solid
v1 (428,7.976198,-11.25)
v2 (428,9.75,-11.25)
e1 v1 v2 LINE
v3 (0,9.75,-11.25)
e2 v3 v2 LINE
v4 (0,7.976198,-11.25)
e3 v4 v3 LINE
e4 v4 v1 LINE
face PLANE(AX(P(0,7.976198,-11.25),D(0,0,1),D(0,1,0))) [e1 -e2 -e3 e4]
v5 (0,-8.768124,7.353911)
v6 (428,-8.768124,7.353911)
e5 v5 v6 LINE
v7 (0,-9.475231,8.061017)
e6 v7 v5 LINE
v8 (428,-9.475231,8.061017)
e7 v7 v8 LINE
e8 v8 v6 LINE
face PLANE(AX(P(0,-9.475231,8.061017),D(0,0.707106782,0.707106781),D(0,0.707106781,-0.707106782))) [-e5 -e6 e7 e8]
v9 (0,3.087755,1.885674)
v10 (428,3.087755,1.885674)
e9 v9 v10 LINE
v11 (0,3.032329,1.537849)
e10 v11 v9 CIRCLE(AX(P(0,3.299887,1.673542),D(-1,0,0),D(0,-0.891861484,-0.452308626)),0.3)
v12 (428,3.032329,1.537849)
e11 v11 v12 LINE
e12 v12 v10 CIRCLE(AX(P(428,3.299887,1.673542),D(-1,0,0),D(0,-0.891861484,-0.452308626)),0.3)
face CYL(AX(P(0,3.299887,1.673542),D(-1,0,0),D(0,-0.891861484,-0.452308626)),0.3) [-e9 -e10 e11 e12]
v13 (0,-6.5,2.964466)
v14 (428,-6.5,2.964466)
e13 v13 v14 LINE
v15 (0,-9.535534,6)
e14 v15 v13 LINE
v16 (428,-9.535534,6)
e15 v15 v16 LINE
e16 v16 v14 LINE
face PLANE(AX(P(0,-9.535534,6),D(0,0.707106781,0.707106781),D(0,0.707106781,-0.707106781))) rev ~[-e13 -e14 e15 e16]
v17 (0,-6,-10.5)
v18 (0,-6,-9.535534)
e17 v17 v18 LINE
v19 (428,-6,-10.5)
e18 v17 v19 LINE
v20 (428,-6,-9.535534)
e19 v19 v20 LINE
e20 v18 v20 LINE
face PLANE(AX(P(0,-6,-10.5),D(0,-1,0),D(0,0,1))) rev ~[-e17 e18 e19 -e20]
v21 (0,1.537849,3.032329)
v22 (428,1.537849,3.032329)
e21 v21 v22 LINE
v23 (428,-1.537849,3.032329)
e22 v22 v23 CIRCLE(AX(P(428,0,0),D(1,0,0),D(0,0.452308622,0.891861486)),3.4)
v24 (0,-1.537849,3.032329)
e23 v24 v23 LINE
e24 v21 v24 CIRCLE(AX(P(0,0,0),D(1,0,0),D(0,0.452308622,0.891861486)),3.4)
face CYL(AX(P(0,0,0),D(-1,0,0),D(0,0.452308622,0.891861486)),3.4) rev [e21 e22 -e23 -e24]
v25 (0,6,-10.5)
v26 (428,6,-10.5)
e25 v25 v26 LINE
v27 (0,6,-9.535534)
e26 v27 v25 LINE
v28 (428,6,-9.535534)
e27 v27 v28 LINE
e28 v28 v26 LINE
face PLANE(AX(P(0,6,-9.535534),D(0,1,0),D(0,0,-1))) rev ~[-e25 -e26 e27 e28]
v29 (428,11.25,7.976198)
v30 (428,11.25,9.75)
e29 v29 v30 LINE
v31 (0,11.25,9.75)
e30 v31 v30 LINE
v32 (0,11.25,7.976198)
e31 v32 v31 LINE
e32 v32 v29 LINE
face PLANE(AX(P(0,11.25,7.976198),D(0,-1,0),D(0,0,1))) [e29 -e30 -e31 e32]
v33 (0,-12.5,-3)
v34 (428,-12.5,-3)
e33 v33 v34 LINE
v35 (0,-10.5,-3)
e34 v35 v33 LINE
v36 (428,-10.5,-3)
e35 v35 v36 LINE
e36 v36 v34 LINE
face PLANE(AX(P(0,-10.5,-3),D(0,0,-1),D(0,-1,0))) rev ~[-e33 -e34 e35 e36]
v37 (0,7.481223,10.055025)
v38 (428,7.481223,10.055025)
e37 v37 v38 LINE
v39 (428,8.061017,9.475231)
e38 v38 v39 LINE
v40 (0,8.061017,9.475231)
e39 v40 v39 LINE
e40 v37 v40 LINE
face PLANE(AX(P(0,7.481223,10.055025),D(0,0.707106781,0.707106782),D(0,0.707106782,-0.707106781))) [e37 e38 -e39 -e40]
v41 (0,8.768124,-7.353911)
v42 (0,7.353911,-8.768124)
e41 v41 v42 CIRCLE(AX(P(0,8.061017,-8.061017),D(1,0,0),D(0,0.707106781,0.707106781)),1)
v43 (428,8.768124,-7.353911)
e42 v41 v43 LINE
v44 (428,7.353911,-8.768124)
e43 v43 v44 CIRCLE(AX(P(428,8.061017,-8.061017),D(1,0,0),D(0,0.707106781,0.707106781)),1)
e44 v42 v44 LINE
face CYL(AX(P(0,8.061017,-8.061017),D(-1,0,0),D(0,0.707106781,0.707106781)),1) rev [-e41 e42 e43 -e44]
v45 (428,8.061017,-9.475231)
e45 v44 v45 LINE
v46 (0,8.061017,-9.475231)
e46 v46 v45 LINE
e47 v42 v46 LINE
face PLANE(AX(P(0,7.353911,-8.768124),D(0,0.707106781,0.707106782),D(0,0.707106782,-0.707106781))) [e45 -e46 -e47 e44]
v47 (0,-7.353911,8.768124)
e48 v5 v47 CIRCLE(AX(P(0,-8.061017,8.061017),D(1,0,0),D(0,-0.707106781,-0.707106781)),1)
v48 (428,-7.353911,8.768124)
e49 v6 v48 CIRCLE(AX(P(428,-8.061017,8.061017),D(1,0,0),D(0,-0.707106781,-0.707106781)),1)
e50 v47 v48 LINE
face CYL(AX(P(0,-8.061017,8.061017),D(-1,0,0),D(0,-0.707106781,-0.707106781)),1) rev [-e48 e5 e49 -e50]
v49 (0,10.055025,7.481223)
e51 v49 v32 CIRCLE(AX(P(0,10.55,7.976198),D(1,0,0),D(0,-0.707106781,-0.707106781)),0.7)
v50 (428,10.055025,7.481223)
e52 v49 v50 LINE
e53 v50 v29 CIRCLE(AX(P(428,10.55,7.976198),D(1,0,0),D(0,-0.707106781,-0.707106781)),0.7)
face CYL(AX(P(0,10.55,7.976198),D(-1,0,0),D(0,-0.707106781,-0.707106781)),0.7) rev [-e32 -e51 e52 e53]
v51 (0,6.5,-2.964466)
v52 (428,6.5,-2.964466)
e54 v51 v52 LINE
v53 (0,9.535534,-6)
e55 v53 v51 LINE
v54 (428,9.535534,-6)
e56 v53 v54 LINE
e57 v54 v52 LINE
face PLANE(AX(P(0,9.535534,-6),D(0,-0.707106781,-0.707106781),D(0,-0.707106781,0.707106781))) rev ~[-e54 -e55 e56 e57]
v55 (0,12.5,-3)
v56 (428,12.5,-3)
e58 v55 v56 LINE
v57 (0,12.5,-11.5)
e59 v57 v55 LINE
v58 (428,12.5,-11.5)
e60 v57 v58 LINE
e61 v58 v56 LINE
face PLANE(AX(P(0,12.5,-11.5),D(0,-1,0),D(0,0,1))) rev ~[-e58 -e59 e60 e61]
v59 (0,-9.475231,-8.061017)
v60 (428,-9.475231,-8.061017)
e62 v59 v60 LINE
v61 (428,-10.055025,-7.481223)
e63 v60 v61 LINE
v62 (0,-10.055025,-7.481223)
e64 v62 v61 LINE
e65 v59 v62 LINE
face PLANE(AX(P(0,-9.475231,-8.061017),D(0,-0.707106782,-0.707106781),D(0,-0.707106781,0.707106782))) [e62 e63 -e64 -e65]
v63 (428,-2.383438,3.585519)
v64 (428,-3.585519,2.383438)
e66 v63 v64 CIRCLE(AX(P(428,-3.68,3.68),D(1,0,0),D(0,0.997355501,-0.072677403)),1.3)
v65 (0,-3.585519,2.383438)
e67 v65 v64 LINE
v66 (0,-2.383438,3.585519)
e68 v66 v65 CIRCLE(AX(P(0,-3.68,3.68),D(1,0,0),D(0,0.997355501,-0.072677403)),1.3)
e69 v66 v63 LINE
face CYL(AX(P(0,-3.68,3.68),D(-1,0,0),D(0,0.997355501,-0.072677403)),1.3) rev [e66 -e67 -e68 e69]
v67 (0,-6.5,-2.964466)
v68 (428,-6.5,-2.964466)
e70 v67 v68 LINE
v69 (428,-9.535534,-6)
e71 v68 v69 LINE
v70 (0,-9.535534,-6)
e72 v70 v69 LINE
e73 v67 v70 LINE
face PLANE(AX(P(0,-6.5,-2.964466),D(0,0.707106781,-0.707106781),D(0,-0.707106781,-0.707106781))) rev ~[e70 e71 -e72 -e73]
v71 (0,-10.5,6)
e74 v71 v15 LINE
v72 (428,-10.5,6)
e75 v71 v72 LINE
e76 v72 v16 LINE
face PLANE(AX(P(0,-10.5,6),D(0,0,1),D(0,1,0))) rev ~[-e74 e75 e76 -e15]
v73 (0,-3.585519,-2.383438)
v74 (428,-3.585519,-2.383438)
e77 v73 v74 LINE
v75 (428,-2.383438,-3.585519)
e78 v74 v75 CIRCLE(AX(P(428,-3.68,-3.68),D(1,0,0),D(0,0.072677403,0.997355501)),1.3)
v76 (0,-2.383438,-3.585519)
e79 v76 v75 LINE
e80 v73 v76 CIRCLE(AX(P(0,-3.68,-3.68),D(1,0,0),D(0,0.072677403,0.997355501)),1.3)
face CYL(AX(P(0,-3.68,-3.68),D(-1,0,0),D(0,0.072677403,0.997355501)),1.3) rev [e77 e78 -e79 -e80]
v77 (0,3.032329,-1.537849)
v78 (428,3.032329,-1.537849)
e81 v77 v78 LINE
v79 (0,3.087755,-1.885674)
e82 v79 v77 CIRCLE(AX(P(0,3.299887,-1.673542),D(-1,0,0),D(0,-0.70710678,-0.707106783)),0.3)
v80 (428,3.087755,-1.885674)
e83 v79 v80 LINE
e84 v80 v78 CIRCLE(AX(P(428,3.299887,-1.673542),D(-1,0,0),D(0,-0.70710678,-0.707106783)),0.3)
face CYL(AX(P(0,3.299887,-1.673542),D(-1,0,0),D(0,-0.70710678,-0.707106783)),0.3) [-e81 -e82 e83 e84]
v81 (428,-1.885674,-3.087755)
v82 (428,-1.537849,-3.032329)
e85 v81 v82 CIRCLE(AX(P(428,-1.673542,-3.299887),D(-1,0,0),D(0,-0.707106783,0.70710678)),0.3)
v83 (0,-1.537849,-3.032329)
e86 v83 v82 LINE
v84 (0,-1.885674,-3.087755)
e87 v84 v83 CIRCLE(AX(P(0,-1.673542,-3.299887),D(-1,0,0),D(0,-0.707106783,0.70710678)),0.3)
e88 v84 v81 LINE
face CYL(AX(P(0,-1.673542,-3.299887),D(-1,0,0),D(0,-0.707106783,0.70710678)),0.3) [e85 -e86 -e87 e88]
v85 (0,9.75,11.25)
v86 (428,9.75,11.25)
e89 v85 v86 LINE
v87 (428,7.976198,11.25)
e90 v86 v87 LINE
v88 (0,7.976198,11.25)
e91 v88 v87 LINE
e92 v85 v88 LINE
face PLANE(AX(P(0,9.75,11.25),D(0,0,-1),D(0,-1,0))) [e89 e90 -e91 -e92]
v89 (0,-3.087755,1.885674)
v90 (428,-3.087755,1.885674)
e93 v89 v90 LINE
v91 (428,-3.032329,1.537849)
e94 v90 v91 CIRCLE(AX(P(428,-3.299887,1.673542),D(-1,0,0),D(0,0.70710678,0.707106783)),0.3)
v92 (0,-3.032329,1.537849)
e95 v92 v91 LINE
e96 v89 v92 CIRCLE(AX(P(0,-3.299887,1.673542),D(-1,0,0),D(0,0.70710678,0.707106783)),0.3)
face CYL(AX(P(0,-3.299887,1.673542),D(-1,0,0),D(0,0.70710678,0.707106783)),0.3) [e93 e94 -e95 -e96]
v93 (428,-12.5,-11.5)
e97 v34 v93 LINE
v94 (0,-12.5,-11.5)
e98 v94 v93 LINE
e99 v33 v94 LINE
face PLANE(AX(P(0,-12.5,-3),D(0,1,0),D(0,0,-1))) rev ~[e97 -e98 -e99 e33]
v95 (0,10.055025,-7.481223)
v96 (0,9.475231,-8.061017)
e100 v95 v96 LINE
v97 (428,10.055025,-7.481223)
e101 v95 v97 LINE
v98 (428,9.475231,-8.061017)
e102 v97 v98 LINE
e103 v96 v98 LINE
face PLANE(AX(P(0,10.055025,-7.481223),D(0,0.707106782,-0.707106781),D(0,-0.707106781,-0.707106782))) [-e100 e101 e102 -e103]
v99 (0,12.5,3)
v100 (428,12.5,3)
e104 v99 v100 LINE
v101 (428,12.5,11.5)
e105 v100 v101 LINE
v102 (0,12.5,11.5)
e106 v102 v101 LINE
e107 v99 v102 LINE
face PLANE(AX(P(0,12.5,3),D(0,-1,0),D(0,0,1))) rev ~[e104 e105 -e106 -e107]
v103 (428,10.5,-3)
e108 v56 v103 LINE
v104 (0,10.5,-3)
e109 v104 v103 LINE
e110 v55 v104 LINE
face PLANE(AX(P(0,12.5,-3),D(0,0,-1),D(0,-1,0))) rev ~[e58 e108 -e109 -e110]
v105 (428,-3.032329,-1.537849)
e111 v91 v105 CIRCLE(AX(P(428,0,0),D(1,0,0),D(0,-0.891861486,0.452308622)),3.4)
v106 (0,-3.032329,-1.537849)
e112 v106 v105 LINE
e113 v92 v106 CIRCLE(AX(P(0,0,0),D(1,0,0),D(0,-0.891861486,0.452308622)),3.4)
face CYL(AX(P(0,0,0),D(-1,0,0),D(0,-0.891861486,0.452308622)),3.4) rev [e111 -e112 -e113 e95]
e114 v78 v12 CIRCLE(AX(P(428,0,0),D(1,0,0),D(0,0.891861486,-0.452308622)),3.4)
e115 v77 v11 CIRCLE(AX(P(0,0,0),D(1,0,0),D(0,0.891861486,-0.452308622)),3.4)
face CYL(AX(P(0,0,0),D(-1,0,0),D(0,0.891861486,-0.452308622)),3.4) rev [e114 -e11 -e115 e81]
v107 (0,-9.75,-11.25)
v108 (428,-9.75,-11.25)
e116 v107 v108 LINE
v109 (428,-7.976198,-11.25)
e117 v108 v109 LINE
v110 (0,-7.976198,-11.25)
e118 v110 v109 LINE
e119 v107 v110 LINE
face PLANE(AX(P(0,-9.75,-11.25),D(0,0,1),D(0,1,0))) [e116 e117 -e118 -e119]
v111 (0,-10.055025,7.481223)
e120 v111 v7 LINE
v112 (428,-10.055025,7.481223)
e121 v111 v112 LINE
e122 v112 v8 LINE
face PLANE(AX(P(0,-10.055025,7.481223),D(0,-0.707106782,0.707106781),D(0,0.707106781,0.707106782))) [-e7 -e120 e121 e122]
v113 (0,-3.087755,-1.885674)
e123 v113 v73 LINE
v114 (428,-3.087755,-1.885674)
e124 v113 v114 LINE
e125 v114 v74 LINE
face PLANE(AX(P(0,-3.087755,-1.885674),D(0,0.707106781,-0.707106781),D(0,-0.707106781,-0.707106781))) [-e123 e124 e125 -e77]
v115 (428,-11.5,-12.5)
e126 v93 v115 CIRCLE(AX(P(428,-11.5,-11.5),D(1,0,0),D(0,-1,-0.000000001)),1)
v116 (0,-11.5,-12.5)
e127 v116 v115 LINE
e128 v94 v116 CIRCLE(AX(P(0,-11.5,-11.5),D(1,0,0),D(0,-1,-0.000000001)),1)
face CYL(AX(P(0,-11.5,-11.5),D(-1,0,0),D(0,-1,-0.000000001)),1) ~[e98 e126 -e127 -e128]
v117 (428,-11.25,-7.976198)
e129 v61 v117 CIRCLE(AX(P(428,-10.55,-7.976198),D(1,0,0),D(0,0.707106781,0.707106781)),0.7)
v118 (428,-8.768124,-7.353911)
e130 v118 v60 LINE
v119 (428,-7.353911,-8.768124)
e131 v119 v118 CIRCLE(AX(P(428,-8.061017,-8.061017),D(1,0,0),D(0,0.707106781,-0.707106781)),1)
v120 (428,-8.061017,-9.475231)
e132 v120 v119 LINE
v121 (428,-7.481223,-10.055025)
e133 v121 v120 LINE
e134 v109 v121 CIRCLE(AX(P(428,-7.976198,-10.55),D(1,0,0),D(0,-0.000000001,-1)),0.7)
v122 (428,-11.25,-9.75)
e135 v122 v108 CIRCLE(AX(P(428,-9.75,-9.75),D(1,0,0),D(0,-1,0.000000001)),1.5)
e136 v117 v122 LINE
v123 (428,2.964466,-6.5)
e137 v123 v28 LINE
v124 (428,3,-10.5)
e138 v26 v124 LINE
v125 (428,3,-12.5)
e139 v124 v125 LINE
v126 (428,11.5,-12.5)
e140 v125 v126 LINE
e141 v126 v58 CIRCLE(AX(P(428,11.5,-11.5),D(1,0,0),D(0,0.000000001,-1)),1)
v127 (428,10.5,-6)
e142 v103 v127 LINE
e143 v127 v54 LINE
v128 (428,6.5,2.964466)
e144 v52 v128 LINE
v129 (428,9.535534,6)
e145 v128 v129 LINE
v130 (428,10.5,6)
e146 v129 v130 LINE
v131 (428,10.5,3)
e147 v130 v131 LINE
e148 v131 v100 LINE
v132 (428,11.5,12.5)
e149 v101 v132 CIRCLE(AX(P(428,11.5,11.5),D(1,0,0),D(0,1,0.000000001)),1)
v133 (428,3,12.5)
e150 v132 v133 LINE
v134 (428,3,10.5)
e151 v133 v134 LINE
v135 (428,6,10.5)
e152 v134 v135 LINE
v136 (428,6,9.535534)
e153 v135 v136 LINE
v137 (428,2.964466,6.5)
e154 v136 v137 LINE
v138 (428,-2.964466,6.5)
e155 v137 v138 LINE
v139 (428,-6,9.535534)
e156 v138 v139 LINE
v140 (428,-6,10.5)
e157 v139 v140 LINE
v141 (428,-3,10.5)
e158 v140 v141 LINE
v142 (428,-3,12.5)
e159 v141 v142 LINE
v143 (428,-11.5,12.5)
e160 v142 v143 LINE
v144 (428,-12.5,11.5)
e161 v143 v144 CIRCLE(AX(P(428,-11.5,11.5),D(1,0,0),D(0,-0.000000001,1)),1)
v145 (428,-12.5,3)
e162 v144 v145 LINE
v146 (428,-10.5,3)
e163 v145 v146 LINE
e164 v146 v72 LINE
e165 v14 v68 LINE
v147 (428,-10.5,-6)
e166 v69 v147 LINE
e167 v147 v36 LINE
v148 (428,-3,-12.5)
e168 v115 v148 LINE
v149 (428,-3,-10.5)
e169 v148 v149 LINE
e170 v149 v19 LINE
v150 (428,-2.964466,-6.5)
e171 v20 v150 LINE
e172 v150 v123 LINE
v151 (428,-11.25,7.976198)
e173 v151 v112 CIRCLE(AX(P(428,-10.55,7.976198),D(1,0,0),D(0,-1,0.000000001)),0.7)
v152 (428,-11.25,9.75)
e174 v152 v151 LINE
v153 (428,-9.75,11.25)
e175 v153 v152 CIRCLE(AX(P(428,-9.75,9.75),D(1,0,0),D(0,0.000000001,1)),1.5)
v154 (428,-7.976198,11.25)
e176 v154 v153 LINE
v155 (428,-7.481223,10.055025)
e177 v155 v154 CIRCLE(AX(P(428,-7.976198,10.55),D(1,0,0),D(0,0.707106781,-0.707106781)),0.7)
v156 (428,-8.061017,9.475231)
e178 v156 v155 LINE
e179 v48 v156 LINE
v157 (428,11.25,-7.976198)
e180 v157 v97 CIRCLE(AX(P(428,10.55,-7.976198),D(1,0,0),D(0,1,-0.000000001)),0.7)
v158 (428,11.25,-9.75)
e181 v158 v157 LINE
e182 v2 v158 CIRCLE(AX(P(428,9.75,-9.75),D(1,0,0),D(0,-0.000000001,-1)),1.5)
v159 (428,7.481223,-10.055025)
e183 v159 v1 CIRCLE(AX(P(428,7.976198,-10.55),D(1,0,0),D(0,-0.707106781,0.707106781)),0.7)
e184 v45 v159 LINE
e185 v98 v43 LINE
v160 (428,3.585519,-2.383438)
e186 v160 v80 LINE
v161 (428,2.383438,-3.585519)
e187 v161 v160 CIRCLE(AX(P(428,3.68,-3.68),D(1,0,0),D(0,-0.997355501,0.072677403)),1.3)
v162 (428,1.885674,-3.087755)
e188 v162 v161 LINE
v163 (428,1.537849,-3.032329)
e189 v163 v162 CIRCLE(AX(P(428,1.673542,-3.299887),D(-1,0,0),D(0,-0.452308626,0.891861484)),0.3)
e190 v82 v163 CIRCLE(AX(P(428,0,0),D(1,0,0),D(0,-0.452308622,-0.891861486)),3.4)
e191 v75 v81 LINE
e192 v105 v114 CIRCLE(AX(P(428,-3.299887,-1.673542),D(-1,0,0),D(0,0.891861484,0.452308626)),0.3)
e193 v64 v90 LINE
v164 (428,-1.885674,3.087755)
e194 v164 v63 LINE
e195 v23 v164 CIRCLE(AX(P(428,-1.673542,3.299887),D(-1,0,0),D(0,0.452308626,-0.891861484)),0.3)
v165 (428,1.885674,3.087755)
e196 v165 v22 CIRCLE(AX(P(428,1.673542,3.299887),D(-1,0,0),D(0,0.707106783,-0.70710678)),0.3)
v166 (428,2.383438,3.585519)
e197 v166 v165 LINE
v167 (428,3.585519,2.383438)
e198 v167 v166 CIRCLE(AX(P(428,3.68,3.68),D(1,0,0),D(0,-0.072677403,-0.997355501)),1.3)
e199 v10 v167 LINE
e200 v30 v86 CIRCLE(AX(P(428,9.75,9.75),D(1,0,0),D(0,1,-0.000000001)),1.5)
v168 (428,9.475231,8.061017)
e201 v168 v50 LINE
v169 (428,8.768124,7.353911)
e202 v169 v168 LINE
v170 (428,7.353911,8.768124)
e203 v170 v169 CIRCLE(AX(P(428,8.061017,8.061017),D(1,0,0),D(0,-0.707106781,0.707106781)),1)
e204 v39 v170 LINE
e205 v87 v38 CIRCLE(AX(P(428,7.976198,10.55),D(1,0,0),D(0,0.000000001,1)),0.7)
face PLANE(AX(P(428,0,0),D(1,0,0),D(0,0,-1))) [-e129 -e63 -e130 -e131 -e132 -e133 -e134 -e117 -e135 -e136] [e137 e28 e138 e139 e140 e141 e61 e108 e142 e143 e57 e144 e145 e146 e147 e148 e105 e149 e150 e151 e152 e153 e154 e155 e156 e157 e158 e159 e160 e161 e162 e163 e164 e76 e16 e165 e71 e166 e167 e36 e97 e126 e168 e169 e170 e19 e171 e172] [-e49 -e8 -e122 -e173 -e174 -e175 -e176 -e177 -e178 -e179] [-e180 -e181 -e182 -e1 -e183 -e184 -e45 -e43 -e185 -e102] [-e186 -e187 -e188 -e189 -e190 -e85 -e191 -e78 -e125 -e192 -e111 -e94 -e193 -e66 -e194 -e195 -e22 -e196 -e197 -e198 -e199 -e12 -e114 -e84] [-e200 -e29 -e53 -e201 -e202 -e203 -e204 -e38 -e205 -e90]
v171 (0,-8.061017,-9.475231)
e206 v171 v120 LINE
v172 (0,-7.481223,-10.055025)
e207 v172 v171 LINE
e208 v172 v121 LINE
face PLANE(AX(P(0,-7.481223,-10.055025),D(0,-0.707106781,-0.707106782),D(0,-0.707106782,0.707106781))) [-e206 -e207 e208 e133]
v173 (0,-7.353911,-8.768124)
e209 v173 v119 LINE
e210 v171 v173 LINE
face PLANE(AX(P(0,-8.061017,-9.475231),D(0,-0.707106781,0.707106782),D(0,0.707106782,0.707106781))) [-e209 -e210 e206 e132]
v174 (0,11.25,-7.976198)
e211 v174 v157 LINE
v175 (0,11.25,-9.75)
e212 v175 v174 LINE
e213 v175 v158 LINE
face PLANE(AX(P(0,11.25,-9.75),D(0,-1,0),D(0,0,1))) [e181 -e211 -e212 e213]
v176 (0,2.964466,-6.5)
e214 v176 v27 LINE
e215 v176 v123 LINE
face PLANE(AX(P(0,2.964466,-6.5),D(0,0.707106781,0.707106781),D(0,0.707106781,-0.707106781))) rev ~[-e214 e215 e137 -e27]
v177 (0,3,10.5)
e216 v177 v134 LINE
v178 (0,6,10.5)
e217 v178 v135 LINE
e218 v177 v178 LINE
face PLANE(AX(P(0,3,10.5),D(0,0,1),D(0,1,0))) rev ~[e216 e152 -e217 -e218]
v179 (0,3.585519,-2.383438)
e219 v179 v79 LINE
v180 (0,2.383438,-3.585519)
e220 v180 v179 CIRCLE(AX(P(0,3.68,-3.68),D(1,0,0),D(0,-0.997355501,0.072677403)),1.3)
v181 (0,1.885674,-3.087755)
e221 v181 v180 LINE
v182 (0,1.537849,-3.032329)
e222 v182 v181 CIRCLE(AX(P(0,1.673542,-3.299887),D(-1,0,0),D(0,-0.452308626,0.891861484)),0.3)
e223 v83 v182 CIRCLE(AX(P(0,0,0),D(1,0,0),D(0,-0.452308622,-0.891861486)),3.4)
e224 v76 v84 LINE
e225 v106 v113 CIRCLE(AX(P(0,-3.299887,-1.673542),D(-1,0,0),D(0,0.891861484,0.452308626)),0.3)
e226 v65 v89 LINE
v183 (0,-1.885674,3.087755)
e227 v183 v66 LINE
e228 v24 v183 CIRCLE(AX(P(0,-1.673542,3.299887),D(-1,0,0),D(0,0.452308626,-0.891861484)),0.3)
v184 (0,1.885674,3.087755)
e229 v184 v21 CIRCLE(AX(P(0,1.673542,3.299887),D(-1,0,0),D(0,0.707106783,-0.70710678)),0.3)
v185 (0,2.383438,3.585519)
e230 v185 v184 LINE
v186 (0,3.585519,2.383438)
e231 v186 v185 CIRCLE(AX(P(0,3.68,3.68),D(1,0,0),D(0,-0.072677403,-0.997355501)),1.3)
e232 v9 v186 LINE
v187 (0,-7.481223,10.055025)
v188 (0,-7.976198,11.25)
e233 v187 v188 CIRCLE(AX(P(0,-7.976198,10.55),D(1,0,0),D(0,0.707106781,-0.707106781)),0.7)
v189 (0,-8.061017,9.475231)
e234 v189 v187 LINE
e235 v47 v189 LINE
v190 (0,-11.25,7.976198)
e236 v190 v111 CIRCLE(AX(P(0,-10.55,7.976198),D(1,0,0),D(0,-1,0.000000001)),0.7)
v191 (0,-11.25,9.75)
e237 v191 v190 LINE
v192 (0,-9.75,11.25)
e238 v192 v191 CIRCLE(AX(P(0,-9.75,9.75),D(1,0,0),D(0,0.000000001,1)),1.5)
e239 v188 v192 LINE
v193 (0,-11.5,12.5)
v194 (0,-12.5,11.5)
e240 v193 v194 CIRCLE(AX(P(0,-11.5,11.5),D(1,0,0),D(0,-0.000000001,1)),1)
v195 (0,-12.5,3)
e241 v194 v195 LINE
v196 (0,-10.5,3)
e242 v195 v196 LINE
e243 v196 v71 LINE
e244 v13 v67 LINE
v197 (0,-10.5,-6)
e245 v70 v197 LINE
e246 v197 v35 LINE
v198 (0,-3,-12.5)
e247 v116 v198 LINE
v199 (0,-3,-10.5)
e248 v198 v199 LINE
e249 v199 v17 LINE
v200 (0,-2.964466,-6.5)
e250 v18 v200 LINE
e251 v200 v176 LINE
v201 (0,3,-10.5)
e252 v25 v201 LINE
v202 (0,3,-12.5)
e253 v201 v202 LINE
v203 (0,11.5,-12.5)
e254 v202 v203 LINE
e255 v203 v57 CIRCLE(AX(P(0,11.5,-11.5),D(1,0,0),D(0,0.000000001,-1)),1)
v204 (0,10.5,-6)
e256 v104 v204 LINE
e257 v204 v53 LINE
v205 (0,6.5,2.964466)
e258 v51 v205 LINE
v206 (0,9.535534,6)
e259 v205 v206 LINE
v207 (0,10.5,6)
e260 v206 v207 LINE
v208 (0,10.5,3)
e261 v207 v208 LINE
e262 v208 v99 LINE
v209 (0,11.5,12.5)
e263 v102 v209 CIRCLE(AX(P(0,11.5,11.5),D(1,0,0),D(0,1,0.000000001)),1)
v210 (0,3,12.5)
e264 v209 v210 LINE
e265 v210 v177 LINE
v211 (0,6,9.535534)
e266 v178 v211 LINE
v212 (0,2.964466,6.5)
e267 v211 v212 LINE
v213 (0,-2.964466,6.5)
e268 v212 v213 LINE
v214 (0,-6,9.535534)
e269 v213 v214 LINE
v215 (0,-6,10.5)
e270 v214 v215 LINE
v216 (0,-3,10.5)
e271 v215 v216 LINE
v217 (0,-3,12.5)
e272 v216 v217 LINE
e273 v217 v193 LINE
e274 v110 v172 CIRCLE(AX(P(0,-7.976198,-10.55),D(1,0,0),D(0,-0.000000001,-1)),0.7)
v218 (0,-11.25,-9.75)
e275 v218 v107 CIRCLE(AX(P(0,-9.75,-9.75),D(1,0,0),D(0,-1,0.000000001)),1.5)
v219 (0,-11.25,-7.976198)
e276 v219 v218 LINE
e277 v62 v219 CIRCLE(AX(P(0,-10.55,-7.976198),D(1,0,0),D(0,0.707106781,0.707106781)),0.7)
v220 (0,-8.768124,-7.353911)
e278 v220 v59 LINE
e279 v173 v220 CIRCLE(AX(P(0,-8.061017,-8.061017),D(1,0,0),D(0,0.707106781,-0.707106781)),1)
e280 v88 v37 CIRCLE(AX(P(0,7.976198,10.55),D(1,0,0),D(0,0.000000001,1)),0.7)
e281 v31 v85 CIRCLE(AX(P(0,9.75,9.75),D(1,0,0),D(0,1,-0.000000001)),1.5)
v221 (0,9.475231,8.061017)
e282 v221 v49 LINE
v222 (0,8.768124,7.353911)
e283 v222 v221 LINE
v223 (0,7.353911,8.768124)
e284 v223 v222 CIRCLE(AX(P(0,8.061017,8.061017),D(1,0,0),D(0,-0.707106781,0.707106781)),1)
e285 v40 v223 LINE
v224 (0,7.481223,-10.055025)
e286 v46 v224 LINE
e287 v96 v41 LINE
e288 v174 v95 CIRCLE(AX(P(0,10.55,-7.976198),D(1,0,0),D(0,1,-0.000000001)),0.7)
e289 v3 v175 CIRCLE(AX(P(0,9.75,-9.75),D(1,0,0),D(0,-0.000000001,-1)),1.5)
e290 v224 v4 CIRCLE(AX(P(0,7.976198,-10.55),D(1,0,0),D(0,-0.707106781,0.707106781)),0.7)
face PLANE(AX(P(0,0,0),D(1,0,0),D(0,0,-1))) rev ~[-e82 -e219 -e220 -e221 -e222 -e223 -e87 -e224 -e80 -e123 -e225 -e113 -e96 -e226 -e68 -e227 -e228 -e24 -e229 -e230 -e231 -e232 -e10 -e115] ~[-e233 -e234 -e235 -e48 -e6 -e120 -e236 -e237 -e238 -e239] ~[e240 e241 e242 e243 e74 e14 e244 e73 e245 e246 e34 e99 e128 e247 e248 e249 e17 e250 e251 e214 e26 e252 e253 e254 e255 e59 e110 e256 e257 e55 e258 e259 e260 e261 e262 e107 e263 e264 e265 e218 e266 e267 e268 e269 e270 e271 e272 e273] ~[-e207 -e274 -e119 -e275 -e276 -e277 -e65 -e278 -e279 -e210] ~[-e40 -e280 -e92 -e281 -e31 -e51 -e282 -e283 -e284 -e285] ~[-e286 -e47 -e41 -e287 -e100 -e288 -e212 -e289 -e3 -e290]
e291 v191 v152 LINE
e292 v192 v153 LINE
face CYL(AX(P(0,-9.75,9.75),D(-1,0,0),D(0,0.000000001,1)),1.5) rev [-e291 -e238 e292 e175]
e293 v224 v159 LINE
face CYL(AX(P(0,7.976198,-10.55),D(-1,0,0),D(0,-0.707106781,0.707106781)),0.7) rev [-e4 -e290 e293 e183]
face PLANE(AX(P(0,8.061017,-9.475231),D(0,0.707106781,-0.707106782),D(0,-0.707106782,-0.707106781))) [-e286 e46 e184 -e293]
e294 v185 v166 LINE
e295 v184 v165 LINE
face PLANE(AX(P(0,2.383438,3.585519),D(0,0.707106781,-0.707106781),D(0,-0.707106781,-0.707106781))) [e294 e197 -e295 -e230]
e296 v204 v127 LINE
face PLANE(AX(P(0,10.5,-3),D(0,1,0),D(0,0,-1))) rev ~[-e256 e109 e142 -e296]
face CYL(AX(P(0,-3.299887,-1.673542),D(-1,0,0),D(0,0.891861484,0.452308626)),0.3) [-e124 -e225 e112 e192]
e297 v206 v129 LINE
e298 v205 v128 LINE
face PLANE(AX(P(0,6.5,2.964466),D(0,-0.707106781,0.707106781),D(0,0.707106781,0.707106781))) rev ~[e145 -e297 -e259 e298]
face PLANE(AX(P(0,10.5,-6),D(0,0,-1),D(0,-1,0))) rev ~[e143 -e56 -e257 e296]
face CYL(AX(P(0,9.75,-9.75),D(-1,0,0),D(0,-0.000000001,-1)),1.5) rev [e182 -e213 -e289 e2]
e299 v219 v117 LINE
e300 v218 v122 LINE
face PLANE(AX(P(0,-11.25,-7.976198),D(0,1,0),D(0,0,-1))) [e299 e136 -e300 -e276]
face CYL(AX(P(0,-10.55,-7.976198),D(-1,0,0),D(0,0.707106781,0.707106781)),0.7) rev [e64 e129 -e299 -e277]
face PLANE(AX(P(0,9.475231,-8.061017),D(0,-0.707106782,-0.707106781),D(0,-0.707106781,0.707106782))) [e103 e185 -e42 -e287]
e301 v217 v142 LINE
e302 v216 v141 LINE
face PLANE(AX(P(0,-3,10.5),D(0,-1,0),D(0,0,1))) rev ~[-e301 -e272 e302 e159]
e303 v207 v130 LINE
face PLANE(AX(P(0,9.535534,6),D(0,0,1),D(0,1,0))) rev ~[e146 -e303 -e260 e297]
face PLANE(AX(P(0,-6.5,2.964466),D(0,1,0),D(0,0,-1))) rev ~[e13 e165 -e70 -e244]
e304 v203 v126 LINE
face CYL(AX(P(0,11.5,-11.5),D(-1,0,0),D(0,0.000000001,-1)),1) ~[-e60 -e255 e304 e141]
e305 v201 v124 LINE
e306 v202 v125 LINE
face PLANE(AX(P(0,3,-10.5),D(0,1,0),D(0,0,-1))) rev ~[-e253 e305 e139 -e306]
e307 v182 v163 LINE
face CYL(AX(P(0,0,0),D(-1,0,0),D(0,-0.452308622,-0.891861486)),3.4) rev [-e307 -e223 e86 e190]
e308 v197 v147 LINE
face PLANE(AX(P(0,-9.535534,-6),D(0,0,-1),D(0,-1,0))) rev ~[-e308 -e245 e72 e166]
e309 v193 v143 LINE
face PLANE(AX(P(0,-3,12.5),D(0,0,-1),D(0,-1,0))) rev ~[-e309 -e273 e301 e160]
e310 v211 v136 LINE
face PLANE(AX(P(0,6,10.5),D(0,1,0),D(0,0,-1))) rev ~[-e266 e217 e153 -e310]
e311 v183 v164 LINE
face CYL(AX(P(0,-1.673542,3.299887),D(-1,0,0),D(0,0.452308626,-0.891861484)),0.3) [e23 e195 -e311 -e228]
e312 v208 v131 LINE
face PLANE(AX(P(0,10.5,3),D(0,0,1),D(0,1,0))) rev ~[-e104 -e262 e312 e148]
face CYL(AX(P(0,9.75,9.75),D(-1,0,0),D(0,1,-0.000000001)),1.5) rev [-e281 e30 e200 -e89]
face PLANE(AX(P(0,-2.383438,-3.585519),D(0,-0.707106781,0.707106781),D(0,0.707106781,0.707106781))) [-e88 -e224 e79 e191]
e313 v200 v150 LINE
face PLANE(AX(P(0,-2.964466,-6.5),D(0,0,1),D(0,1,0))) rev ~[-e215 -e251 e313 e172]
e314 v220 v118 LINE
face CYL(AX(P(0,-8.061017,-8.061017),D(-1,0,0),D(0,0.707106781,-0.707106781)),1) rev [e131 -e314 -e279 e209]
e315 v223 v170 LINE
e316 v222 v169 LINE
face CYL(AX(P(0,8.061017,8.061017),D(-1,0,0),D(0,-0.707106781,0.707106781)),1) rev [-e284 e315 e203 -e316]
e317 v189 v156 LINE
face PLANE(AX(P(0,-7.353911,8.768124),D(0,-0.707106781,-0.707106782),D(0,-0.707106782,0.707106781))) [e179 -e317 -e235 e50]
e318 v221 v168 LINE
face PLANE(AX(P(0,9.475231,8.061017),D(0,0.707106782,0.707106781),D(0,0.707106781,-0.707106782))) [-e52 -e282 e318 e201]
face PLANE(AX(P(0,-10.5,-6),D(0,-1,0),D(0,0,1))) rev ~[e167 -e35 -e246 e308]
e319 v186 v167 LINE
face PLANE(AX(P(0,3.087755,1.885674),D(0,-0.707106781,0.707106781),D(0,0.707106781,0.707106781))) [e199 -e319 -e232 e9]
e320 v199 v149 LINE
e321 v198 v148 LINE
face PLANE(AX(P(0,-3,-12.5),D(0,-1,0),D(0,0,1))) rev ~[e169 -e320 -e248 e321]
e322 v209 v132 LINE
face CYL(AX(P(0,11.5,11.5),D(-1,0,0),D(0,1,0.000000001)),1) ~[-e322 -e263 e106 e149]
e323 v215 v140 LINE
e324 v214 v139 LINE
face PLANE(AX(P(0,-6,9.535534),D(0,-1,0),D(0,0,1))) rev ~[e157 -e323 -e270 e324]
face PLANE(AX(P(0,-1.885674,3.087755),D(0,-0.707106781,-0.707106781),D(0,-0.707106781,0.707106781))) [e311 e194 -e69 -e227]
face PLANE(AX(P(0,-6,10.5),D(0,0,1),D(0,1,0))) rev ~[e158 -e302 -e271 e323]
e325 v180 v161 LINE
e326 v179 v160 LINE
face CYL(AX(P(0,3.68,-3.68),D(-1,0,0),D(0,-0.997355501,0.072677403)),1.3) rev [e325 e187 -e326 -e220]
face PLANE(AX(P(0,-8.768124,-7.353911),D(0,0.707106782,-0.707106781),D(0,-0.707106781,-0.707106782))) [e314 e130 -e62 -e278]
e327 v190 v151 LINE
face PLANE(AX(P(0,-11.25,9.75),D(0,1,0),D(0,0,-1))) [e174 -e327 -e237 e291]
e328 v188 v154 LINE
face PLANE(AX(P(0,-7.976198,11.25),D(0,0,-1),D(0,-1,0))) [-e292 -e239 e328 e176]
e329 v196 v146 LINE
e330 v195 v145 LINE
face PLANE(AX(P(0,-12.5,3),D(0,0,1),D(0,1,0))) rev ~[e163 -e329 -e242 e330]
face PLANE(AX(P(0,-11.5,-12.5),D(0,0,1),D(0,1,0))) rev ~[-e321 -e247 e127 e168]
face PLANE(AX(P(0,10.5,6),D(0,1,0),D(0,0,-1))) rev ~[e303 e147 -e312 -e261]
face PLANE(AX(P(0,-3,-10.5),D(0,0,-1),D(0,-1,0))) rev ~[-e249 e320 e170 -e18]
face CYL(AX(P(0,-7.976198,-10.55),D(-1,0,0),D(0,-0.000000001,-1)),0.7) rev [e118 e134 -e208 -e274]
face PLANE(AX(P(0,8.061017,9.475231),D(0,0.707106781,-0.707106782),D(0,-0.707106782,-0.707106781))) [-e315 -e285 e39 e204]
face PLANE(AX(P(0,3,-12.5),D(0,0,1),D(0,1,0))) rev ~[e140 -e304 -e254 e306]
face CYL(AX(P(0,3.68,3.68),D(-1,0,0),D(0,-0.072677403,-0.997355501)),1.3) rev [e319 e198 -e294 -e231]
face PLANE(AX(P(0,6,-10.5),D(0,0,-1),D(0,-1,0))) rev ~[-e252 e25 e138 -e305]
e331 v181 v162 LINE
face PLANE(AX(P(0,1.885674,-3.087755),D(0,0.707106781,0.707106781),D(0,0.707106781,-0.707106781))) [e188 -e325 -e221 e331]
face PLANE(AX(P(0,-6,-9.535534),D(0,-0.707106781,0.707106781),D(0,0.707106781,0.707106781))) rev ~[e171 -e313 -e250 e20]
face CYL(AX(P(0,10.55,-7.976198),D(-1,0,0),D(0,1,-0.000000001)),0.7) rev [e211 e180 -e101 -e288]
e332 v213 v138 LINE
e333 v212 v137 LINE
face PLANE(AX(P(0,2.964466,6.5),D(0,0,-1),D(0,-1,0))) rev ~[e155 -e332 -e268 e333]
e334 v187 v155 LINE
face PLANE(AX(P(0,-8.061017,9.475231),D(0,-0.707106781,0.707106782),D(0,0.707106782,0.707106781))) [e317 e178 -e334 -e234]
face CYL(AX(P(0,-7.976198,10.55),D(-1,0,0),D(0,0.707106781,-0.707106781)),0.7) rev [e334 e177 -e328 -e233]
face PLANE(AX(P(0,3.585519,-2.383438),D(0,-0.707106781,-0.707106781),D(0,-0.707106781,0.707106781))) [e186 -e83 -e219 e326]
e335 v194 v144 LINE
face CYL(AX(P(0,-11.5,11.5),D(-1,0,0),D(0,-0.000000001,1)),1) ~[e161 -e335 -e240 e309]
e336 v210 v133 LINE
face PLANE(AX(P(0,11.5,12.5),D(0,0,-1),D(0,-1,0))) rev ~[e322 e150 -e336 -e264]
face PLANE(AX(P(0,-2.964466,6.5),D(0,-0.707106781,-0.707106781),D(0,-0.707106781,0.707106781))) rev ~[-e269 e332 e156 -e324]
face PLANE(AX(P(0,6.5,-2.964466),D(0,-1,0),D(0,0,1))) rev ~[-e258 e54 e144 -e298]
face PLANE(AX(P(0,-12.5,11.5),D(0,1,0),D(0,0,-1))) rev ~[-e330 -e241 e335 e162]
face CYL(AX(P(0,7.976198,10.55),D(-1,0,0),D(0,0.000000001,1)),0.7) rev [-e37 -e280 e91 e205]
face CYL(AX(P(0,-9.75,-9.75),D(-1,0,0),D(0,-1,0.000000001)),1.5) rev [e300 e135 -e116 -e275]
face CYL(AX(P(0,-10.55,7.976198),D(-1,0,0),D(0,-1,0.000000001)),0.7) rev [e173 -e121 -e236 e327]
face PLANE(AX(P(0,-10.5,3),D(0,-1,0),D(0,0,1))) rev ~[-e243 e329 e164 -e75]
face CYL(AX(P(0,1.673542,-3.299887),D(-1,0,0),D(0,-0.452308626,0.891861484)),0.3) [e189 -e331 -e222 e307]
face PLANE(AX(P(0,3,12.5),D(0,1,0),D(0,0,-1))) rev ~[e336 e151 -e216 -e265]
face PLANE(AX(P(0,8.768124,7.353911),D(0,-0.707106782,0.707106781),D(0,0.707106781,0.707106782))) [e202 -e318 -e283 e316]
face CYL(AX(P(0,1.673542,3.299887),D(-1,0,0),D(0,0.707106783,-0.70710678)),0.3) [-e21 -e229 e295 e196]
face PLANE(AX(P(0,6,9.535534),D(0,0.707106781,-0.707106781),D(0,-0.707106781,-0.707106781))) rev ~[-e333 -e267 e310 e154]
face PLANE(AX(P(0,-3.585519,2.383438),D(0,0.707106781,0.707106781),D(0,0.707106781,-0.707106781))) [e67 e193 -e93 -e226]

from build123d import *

# Parameters (mm, degrees)
BOSS_EXTRUDE1_DEPTH = 428


with BuildPart() as part:
    # Sketch1 → Boss-Extrude1 (new body)
    with BuildSketch(Plane(origin=(0, 0, 0), x_dir=(0, 0, -1), z_dir=(1, 0, 0))):
        with BuildLine():
            Line((-12.5, 11.5), (-12.5, 3))
            Line((-12.5, 3), (-10.5, 3))
            Line((-10.5, 3), (-10.5, 6))
            Line((-10.5, 6), (-9.535533906, 6))
            Line((-9.535533906, 6), (-6.5, 2.964466094))
            Line((-6.5, 2.964466094), (-6.5, -2.964466094))
            Line((-6.5, -2.964466094), (-9.535533906, -6))
            Line((-9.535533906, -6), (-10.5, -6))
            Line((-10.5, -6), (-10.5, -3))
            Line((-10.5, -3), (-12.5, -3))
            Line((-12.5, -3), (-12.5, -11.5))
            ThreePointArc((-12.5, -11.5), (-12.207106781, -12.207106781), (-11.5, -12.5))
            Line((-11.5, -12.5), (-3, -12.5))
            Line((-3, -12.5), (-3, -10.5))
            Line((-3, -10.5), (-6, -10.5))
            Line((-6, -10.5), (-6, -9.535533906))
            Line((-6, -9.535533906), (-2.964466094, -6.5))
            Line((-2.964466094, -6.5), (2.964466094, -6.5))
            Line((2.964466094, -6.5), (6, -9.535533906))
            Line((6, -9.535533906), (6, -10.5))
            Line((6, -10.5), (3, -10.5))
            Line((3, -10.5), (3, -12.5))
            Line((3, -12.5), (11.5, -12.5))
            ThreePointArc((11.5, -12.5), (12.207106781, -12.207106781), (12.5, -11.5))
            Line((12.5, -11.5), (12.5, -3))
            Line((12.5, -3), (10.5, -3))
            Line((10.5, -3), (10.5, -6))
            Line((10.5, -6), (9.535533906, -6))
            Line((9.535533906, -6), (6.5, -2.964466094))
            Line((6.5, -2.964466094), (6.5, 2.964466094))
            Line((6.5, 2.964466094), (9.535533906, 6))
            Line((9.535533906, 6), (10.5, 6))
            Line((10.5, 6), (10.5, 3))
            Line((10.5, 3), (12.5, 3))
            Line((12.5, 3), (12.5, 11.5))
            ThreePointArc((12.5, 11.5), (12.207106781, 12.207106781), (11.5, 12.5))
            Line((11.5, 12.5), (3, 12.5))
            Line((3, 12.5), (3, 10.5))
            Line((3, 10.5), (6, 10.5))
            Line((6, 10.5), (6, 9.535533906))
            Line((6, 9.535533906), (2.964466094, 6.5))
            Line((2.964466094, 6.5), (-2.964466094, 6.5))
            Line((-2.964466094, 6.5), (-6, 9.535533906))
            Line((-6, 9.535533906), (-6, 10.5))
            Line((-6, 10.5), (-3, 10.5))
            Line((-3, 10.5), (-3, 12.5))
            Line((-3, 12.5), (-11.5, 12.5))
            ThreePointArc((-11.5, 12.5), (-12.207106781, 12.207106781), (-12.5, 11.5))
        make_face()
        with BuildLine():
            Line((-3.087755464, -1.885673936), (-3.585519377, -2.383437849))
            ThreePointArc((-3.585519377, -2.383437849), (-4.599238816, -4.599238816), (-2.383437849, -3.585519377))
            Line((-2.383437849, -3.585519377), (-1.885673936, -3.087755464))
            ThreePointArc((-1.885673936, -3.087755464), (-1.720751743, -3.0036254), (-1.537849315, -3.032329053))
            ThreePointArc((-1.537849315, -3.032329053), (0, -3.4), (1.537849315, -3.032329053))
            ThreePointArc((1.537849315, -3.032329053), (1.720751743, -3.0036254), (1.885673936, -3.087755464))
            Line((1.885673936, -3.087755464), (2.383437849, -3.585519377))
            ThreePointArc((2.383437849, -3.585519377), (4.599238816, -4.599238816), (3.585519377, -2.383437849))
            Line((3.585519377, -2.383437849), (3.087755464, -1.885673936))
            ThreePointArc((3.087755464, -1.885673936), (3.0036254, -1.720751743), (3.032329053, -1.537849315))
            ThreePointArc((3.032329053, -1.537849315), (3.4, 0), (3.032329053, 1.537849315))
            ThreePointArc((3.032329053, 1.537849315), (3.0036254, 1.720751743), (3.087755464, 1.885673936))
            Line((3.087755464, 1.885673936), (3.585519377, 2.383437849))
            ThreePointArc((3.585519377, 2.383437849), (4.599238816, 4.599238816), (2.383437849, 3.585519377))
            Line((2.383437849, 3.585519377), (1.885673936, 3.087755464))
            ThreePointArc((1.885673936, 3.087755464), (1.720751743, 3.0036254), (1.537849315, 3.032329053))
            ThreePointArc((1.537849315, 3.032329053), (0, 3.4), (-1.537849315, 3.032329053))
            ThreePointArc((-1.537849315, 3.032329053), (-1.720751743, 3.0036254), (-1.885673936, 3.087755464))
            Line((-1.885673936, 3.087755464), (-2.383437849, 3.585519377))
            ThreePointArc((-2.383437849, 3.585519377), (-4.599238816, 4.599238816), (-3.585519377, 2.383437849))
            Line((-3.585519377, 2.383437849), (-3.087755464, 1.885673936))
            ThreePointArc((-3.087755464, 1.885673936), (-3.0036254, 1.720751743), (-3.032329053, 1.537849315))
            ThreePointArc((-3.032329053, 1.537849315), (-3.4, 0), (-3.032329053, -1.537849315))
            ThreePointArc((-3.032329053, -1.537849315), (-3.0036254, -1.720751743), (-3.087755464, -1.885673936))
        make_face(mode=Mode.SUBTRACT)
        with BuildLine():
            Line((-11.25, 9.75), (-11.25, 7.976197667))
            ThreePointArc((-11.25, 7.976197667), (-10.817878403, 7.329481994), (-10.055025253, 7.48122292))
            Line((-10.055025253, 7.48122292), (-9.475230868, 8.061017306))
            Line((-9.475230868, 8.061017306), (-8.768124087, 7.353910524))
            ThreePointArc((-8.768124087, 7.353910524), (-7.353910524, 7.353910524), (-7.353910524, 8.768124087))
            Line((-7.353910524, 8.768124087), (-8.061017306, 9.475230868))
            Line((-8.061017306, 9.475230868), (-7.48122292, 10.055025253))
            ThreePointArc((-7.48122292, 10.055025253), (-7.329481994, 10.817878403), (-7.976197667, 11.25))
            Line((-7.976197667, 11.25), (-9.75, 11.25))
            ThreePointArc((-9.75, 11.25), (-10.810660172, 10.810660172), (-11.25, 9.75))
        make_face(mode=Mode.SUBTRACT)
        with BuildLine():
            Line((8.061017306, 9.475230868), (7.353910524, 8.768124087))
            ThreePointArc((7.353910524, 8.768124087), (7.353910524, 7.353910524), (8.768124087, 7.353910524))
            Line((8.768124087, 7.353910524), (9.475230868, 8.061017306))
            Line((9.475230868, 8.061017306), (10.055025253, 7.48122292))
            ThreePointArc((10.055025253, 7.48122292), (10.817878403, 7.329481994), (11.25, 7.976197667))
            Line((11.25, 7.976197667), (11.25, 9.75))
            ThreePointArc((11.25, 9.75), (10.810660172, 10.810660172), (9.75, 11.25))
            Line((9.75, 11.25), (7.976197667, 11.25))
            ThreePointArc((7.976197667, 11.25), (7.329481994, 10.817878403), (7.48122292, 10.055025253))
            Line((7.48122292, 10.055025253), (8.061017306, 9.475230868))
        make_face(mode=Mode.SUBTRACT)
        with BuildLine():
            Line((-9.475230868, -8.061017306), (-10.055025253, -7.48122292))
            ThreePointArc((-10.055025253, -7.48122292), (-10.817878403, -7.329481994), (-11.25, -7.976197667))
            Line((-11.25, -7.976197667), (-11.25, -9.75))
            ThreePointArc((-11.25, -9.75), (-10.810660172, -10.810660172), (-9.75, -11.25))
            Line((-9.75, -11.25), (-7.976197667, -11.25))
            ThreePointArc((-7.976197667, -11.25), (-7.329481994, -10.817878403), (-7.48122292, -10.055025253))
            Line((-7.48122292, -10.055025253), (-8.061017306, -9.475230868))
            Line((-8.061017306, -9.475230868), (-7.353910524, -8.768124087))
            ThreePointArc((-7.353910524, -8.768124087), (-7.353910524, -7.353910524), (-8.768124087, -7.353910524))
            Line((-8.768124087, -7.353910524), (-9.475230868, -8.061017306))
        make_face(mode=Mode.SUBTRACT)
        with BuildLine():
            Line((9.475230868, -8.061017306), (8.768124087, -7.353910524))
            ThreePointArc((8.768124087, -7.353910524), (7.353910524, -7.353910524), (7.353910524, -8.768124087))
            Line((7.353910524, -8.768124087), (8.061017306, -9.475230868))
            Line((8.061017306, -9.475230868), (7.48122292, -10.055025253))
            ThreePointArc((7.48122292, -10.055025253), (7.329481994, -10.817878403), (7.976197667, -11.25))
            Line((7.976197667, -11.25), (9.75, -11.25))
            ThreePointArc((9.75, -11.25), (10.810660172, -10.810660172), (11.25, -9.75))
            Line((11.25, -9.75), (11.25, -7.976197667))
            ThreePointArc((11.25, -7.976197667), (10.817878403, -7.329481994), (10.055025253, -7.48122292))
            Line((10.055025253, -7.48122292), (9.475230868, -8.061017306))
        make_face(mode=Mode.SUBTRACT)
    extrude(amount=BOSS_EXTRUDE1_DEPTH)


solid = part.part
